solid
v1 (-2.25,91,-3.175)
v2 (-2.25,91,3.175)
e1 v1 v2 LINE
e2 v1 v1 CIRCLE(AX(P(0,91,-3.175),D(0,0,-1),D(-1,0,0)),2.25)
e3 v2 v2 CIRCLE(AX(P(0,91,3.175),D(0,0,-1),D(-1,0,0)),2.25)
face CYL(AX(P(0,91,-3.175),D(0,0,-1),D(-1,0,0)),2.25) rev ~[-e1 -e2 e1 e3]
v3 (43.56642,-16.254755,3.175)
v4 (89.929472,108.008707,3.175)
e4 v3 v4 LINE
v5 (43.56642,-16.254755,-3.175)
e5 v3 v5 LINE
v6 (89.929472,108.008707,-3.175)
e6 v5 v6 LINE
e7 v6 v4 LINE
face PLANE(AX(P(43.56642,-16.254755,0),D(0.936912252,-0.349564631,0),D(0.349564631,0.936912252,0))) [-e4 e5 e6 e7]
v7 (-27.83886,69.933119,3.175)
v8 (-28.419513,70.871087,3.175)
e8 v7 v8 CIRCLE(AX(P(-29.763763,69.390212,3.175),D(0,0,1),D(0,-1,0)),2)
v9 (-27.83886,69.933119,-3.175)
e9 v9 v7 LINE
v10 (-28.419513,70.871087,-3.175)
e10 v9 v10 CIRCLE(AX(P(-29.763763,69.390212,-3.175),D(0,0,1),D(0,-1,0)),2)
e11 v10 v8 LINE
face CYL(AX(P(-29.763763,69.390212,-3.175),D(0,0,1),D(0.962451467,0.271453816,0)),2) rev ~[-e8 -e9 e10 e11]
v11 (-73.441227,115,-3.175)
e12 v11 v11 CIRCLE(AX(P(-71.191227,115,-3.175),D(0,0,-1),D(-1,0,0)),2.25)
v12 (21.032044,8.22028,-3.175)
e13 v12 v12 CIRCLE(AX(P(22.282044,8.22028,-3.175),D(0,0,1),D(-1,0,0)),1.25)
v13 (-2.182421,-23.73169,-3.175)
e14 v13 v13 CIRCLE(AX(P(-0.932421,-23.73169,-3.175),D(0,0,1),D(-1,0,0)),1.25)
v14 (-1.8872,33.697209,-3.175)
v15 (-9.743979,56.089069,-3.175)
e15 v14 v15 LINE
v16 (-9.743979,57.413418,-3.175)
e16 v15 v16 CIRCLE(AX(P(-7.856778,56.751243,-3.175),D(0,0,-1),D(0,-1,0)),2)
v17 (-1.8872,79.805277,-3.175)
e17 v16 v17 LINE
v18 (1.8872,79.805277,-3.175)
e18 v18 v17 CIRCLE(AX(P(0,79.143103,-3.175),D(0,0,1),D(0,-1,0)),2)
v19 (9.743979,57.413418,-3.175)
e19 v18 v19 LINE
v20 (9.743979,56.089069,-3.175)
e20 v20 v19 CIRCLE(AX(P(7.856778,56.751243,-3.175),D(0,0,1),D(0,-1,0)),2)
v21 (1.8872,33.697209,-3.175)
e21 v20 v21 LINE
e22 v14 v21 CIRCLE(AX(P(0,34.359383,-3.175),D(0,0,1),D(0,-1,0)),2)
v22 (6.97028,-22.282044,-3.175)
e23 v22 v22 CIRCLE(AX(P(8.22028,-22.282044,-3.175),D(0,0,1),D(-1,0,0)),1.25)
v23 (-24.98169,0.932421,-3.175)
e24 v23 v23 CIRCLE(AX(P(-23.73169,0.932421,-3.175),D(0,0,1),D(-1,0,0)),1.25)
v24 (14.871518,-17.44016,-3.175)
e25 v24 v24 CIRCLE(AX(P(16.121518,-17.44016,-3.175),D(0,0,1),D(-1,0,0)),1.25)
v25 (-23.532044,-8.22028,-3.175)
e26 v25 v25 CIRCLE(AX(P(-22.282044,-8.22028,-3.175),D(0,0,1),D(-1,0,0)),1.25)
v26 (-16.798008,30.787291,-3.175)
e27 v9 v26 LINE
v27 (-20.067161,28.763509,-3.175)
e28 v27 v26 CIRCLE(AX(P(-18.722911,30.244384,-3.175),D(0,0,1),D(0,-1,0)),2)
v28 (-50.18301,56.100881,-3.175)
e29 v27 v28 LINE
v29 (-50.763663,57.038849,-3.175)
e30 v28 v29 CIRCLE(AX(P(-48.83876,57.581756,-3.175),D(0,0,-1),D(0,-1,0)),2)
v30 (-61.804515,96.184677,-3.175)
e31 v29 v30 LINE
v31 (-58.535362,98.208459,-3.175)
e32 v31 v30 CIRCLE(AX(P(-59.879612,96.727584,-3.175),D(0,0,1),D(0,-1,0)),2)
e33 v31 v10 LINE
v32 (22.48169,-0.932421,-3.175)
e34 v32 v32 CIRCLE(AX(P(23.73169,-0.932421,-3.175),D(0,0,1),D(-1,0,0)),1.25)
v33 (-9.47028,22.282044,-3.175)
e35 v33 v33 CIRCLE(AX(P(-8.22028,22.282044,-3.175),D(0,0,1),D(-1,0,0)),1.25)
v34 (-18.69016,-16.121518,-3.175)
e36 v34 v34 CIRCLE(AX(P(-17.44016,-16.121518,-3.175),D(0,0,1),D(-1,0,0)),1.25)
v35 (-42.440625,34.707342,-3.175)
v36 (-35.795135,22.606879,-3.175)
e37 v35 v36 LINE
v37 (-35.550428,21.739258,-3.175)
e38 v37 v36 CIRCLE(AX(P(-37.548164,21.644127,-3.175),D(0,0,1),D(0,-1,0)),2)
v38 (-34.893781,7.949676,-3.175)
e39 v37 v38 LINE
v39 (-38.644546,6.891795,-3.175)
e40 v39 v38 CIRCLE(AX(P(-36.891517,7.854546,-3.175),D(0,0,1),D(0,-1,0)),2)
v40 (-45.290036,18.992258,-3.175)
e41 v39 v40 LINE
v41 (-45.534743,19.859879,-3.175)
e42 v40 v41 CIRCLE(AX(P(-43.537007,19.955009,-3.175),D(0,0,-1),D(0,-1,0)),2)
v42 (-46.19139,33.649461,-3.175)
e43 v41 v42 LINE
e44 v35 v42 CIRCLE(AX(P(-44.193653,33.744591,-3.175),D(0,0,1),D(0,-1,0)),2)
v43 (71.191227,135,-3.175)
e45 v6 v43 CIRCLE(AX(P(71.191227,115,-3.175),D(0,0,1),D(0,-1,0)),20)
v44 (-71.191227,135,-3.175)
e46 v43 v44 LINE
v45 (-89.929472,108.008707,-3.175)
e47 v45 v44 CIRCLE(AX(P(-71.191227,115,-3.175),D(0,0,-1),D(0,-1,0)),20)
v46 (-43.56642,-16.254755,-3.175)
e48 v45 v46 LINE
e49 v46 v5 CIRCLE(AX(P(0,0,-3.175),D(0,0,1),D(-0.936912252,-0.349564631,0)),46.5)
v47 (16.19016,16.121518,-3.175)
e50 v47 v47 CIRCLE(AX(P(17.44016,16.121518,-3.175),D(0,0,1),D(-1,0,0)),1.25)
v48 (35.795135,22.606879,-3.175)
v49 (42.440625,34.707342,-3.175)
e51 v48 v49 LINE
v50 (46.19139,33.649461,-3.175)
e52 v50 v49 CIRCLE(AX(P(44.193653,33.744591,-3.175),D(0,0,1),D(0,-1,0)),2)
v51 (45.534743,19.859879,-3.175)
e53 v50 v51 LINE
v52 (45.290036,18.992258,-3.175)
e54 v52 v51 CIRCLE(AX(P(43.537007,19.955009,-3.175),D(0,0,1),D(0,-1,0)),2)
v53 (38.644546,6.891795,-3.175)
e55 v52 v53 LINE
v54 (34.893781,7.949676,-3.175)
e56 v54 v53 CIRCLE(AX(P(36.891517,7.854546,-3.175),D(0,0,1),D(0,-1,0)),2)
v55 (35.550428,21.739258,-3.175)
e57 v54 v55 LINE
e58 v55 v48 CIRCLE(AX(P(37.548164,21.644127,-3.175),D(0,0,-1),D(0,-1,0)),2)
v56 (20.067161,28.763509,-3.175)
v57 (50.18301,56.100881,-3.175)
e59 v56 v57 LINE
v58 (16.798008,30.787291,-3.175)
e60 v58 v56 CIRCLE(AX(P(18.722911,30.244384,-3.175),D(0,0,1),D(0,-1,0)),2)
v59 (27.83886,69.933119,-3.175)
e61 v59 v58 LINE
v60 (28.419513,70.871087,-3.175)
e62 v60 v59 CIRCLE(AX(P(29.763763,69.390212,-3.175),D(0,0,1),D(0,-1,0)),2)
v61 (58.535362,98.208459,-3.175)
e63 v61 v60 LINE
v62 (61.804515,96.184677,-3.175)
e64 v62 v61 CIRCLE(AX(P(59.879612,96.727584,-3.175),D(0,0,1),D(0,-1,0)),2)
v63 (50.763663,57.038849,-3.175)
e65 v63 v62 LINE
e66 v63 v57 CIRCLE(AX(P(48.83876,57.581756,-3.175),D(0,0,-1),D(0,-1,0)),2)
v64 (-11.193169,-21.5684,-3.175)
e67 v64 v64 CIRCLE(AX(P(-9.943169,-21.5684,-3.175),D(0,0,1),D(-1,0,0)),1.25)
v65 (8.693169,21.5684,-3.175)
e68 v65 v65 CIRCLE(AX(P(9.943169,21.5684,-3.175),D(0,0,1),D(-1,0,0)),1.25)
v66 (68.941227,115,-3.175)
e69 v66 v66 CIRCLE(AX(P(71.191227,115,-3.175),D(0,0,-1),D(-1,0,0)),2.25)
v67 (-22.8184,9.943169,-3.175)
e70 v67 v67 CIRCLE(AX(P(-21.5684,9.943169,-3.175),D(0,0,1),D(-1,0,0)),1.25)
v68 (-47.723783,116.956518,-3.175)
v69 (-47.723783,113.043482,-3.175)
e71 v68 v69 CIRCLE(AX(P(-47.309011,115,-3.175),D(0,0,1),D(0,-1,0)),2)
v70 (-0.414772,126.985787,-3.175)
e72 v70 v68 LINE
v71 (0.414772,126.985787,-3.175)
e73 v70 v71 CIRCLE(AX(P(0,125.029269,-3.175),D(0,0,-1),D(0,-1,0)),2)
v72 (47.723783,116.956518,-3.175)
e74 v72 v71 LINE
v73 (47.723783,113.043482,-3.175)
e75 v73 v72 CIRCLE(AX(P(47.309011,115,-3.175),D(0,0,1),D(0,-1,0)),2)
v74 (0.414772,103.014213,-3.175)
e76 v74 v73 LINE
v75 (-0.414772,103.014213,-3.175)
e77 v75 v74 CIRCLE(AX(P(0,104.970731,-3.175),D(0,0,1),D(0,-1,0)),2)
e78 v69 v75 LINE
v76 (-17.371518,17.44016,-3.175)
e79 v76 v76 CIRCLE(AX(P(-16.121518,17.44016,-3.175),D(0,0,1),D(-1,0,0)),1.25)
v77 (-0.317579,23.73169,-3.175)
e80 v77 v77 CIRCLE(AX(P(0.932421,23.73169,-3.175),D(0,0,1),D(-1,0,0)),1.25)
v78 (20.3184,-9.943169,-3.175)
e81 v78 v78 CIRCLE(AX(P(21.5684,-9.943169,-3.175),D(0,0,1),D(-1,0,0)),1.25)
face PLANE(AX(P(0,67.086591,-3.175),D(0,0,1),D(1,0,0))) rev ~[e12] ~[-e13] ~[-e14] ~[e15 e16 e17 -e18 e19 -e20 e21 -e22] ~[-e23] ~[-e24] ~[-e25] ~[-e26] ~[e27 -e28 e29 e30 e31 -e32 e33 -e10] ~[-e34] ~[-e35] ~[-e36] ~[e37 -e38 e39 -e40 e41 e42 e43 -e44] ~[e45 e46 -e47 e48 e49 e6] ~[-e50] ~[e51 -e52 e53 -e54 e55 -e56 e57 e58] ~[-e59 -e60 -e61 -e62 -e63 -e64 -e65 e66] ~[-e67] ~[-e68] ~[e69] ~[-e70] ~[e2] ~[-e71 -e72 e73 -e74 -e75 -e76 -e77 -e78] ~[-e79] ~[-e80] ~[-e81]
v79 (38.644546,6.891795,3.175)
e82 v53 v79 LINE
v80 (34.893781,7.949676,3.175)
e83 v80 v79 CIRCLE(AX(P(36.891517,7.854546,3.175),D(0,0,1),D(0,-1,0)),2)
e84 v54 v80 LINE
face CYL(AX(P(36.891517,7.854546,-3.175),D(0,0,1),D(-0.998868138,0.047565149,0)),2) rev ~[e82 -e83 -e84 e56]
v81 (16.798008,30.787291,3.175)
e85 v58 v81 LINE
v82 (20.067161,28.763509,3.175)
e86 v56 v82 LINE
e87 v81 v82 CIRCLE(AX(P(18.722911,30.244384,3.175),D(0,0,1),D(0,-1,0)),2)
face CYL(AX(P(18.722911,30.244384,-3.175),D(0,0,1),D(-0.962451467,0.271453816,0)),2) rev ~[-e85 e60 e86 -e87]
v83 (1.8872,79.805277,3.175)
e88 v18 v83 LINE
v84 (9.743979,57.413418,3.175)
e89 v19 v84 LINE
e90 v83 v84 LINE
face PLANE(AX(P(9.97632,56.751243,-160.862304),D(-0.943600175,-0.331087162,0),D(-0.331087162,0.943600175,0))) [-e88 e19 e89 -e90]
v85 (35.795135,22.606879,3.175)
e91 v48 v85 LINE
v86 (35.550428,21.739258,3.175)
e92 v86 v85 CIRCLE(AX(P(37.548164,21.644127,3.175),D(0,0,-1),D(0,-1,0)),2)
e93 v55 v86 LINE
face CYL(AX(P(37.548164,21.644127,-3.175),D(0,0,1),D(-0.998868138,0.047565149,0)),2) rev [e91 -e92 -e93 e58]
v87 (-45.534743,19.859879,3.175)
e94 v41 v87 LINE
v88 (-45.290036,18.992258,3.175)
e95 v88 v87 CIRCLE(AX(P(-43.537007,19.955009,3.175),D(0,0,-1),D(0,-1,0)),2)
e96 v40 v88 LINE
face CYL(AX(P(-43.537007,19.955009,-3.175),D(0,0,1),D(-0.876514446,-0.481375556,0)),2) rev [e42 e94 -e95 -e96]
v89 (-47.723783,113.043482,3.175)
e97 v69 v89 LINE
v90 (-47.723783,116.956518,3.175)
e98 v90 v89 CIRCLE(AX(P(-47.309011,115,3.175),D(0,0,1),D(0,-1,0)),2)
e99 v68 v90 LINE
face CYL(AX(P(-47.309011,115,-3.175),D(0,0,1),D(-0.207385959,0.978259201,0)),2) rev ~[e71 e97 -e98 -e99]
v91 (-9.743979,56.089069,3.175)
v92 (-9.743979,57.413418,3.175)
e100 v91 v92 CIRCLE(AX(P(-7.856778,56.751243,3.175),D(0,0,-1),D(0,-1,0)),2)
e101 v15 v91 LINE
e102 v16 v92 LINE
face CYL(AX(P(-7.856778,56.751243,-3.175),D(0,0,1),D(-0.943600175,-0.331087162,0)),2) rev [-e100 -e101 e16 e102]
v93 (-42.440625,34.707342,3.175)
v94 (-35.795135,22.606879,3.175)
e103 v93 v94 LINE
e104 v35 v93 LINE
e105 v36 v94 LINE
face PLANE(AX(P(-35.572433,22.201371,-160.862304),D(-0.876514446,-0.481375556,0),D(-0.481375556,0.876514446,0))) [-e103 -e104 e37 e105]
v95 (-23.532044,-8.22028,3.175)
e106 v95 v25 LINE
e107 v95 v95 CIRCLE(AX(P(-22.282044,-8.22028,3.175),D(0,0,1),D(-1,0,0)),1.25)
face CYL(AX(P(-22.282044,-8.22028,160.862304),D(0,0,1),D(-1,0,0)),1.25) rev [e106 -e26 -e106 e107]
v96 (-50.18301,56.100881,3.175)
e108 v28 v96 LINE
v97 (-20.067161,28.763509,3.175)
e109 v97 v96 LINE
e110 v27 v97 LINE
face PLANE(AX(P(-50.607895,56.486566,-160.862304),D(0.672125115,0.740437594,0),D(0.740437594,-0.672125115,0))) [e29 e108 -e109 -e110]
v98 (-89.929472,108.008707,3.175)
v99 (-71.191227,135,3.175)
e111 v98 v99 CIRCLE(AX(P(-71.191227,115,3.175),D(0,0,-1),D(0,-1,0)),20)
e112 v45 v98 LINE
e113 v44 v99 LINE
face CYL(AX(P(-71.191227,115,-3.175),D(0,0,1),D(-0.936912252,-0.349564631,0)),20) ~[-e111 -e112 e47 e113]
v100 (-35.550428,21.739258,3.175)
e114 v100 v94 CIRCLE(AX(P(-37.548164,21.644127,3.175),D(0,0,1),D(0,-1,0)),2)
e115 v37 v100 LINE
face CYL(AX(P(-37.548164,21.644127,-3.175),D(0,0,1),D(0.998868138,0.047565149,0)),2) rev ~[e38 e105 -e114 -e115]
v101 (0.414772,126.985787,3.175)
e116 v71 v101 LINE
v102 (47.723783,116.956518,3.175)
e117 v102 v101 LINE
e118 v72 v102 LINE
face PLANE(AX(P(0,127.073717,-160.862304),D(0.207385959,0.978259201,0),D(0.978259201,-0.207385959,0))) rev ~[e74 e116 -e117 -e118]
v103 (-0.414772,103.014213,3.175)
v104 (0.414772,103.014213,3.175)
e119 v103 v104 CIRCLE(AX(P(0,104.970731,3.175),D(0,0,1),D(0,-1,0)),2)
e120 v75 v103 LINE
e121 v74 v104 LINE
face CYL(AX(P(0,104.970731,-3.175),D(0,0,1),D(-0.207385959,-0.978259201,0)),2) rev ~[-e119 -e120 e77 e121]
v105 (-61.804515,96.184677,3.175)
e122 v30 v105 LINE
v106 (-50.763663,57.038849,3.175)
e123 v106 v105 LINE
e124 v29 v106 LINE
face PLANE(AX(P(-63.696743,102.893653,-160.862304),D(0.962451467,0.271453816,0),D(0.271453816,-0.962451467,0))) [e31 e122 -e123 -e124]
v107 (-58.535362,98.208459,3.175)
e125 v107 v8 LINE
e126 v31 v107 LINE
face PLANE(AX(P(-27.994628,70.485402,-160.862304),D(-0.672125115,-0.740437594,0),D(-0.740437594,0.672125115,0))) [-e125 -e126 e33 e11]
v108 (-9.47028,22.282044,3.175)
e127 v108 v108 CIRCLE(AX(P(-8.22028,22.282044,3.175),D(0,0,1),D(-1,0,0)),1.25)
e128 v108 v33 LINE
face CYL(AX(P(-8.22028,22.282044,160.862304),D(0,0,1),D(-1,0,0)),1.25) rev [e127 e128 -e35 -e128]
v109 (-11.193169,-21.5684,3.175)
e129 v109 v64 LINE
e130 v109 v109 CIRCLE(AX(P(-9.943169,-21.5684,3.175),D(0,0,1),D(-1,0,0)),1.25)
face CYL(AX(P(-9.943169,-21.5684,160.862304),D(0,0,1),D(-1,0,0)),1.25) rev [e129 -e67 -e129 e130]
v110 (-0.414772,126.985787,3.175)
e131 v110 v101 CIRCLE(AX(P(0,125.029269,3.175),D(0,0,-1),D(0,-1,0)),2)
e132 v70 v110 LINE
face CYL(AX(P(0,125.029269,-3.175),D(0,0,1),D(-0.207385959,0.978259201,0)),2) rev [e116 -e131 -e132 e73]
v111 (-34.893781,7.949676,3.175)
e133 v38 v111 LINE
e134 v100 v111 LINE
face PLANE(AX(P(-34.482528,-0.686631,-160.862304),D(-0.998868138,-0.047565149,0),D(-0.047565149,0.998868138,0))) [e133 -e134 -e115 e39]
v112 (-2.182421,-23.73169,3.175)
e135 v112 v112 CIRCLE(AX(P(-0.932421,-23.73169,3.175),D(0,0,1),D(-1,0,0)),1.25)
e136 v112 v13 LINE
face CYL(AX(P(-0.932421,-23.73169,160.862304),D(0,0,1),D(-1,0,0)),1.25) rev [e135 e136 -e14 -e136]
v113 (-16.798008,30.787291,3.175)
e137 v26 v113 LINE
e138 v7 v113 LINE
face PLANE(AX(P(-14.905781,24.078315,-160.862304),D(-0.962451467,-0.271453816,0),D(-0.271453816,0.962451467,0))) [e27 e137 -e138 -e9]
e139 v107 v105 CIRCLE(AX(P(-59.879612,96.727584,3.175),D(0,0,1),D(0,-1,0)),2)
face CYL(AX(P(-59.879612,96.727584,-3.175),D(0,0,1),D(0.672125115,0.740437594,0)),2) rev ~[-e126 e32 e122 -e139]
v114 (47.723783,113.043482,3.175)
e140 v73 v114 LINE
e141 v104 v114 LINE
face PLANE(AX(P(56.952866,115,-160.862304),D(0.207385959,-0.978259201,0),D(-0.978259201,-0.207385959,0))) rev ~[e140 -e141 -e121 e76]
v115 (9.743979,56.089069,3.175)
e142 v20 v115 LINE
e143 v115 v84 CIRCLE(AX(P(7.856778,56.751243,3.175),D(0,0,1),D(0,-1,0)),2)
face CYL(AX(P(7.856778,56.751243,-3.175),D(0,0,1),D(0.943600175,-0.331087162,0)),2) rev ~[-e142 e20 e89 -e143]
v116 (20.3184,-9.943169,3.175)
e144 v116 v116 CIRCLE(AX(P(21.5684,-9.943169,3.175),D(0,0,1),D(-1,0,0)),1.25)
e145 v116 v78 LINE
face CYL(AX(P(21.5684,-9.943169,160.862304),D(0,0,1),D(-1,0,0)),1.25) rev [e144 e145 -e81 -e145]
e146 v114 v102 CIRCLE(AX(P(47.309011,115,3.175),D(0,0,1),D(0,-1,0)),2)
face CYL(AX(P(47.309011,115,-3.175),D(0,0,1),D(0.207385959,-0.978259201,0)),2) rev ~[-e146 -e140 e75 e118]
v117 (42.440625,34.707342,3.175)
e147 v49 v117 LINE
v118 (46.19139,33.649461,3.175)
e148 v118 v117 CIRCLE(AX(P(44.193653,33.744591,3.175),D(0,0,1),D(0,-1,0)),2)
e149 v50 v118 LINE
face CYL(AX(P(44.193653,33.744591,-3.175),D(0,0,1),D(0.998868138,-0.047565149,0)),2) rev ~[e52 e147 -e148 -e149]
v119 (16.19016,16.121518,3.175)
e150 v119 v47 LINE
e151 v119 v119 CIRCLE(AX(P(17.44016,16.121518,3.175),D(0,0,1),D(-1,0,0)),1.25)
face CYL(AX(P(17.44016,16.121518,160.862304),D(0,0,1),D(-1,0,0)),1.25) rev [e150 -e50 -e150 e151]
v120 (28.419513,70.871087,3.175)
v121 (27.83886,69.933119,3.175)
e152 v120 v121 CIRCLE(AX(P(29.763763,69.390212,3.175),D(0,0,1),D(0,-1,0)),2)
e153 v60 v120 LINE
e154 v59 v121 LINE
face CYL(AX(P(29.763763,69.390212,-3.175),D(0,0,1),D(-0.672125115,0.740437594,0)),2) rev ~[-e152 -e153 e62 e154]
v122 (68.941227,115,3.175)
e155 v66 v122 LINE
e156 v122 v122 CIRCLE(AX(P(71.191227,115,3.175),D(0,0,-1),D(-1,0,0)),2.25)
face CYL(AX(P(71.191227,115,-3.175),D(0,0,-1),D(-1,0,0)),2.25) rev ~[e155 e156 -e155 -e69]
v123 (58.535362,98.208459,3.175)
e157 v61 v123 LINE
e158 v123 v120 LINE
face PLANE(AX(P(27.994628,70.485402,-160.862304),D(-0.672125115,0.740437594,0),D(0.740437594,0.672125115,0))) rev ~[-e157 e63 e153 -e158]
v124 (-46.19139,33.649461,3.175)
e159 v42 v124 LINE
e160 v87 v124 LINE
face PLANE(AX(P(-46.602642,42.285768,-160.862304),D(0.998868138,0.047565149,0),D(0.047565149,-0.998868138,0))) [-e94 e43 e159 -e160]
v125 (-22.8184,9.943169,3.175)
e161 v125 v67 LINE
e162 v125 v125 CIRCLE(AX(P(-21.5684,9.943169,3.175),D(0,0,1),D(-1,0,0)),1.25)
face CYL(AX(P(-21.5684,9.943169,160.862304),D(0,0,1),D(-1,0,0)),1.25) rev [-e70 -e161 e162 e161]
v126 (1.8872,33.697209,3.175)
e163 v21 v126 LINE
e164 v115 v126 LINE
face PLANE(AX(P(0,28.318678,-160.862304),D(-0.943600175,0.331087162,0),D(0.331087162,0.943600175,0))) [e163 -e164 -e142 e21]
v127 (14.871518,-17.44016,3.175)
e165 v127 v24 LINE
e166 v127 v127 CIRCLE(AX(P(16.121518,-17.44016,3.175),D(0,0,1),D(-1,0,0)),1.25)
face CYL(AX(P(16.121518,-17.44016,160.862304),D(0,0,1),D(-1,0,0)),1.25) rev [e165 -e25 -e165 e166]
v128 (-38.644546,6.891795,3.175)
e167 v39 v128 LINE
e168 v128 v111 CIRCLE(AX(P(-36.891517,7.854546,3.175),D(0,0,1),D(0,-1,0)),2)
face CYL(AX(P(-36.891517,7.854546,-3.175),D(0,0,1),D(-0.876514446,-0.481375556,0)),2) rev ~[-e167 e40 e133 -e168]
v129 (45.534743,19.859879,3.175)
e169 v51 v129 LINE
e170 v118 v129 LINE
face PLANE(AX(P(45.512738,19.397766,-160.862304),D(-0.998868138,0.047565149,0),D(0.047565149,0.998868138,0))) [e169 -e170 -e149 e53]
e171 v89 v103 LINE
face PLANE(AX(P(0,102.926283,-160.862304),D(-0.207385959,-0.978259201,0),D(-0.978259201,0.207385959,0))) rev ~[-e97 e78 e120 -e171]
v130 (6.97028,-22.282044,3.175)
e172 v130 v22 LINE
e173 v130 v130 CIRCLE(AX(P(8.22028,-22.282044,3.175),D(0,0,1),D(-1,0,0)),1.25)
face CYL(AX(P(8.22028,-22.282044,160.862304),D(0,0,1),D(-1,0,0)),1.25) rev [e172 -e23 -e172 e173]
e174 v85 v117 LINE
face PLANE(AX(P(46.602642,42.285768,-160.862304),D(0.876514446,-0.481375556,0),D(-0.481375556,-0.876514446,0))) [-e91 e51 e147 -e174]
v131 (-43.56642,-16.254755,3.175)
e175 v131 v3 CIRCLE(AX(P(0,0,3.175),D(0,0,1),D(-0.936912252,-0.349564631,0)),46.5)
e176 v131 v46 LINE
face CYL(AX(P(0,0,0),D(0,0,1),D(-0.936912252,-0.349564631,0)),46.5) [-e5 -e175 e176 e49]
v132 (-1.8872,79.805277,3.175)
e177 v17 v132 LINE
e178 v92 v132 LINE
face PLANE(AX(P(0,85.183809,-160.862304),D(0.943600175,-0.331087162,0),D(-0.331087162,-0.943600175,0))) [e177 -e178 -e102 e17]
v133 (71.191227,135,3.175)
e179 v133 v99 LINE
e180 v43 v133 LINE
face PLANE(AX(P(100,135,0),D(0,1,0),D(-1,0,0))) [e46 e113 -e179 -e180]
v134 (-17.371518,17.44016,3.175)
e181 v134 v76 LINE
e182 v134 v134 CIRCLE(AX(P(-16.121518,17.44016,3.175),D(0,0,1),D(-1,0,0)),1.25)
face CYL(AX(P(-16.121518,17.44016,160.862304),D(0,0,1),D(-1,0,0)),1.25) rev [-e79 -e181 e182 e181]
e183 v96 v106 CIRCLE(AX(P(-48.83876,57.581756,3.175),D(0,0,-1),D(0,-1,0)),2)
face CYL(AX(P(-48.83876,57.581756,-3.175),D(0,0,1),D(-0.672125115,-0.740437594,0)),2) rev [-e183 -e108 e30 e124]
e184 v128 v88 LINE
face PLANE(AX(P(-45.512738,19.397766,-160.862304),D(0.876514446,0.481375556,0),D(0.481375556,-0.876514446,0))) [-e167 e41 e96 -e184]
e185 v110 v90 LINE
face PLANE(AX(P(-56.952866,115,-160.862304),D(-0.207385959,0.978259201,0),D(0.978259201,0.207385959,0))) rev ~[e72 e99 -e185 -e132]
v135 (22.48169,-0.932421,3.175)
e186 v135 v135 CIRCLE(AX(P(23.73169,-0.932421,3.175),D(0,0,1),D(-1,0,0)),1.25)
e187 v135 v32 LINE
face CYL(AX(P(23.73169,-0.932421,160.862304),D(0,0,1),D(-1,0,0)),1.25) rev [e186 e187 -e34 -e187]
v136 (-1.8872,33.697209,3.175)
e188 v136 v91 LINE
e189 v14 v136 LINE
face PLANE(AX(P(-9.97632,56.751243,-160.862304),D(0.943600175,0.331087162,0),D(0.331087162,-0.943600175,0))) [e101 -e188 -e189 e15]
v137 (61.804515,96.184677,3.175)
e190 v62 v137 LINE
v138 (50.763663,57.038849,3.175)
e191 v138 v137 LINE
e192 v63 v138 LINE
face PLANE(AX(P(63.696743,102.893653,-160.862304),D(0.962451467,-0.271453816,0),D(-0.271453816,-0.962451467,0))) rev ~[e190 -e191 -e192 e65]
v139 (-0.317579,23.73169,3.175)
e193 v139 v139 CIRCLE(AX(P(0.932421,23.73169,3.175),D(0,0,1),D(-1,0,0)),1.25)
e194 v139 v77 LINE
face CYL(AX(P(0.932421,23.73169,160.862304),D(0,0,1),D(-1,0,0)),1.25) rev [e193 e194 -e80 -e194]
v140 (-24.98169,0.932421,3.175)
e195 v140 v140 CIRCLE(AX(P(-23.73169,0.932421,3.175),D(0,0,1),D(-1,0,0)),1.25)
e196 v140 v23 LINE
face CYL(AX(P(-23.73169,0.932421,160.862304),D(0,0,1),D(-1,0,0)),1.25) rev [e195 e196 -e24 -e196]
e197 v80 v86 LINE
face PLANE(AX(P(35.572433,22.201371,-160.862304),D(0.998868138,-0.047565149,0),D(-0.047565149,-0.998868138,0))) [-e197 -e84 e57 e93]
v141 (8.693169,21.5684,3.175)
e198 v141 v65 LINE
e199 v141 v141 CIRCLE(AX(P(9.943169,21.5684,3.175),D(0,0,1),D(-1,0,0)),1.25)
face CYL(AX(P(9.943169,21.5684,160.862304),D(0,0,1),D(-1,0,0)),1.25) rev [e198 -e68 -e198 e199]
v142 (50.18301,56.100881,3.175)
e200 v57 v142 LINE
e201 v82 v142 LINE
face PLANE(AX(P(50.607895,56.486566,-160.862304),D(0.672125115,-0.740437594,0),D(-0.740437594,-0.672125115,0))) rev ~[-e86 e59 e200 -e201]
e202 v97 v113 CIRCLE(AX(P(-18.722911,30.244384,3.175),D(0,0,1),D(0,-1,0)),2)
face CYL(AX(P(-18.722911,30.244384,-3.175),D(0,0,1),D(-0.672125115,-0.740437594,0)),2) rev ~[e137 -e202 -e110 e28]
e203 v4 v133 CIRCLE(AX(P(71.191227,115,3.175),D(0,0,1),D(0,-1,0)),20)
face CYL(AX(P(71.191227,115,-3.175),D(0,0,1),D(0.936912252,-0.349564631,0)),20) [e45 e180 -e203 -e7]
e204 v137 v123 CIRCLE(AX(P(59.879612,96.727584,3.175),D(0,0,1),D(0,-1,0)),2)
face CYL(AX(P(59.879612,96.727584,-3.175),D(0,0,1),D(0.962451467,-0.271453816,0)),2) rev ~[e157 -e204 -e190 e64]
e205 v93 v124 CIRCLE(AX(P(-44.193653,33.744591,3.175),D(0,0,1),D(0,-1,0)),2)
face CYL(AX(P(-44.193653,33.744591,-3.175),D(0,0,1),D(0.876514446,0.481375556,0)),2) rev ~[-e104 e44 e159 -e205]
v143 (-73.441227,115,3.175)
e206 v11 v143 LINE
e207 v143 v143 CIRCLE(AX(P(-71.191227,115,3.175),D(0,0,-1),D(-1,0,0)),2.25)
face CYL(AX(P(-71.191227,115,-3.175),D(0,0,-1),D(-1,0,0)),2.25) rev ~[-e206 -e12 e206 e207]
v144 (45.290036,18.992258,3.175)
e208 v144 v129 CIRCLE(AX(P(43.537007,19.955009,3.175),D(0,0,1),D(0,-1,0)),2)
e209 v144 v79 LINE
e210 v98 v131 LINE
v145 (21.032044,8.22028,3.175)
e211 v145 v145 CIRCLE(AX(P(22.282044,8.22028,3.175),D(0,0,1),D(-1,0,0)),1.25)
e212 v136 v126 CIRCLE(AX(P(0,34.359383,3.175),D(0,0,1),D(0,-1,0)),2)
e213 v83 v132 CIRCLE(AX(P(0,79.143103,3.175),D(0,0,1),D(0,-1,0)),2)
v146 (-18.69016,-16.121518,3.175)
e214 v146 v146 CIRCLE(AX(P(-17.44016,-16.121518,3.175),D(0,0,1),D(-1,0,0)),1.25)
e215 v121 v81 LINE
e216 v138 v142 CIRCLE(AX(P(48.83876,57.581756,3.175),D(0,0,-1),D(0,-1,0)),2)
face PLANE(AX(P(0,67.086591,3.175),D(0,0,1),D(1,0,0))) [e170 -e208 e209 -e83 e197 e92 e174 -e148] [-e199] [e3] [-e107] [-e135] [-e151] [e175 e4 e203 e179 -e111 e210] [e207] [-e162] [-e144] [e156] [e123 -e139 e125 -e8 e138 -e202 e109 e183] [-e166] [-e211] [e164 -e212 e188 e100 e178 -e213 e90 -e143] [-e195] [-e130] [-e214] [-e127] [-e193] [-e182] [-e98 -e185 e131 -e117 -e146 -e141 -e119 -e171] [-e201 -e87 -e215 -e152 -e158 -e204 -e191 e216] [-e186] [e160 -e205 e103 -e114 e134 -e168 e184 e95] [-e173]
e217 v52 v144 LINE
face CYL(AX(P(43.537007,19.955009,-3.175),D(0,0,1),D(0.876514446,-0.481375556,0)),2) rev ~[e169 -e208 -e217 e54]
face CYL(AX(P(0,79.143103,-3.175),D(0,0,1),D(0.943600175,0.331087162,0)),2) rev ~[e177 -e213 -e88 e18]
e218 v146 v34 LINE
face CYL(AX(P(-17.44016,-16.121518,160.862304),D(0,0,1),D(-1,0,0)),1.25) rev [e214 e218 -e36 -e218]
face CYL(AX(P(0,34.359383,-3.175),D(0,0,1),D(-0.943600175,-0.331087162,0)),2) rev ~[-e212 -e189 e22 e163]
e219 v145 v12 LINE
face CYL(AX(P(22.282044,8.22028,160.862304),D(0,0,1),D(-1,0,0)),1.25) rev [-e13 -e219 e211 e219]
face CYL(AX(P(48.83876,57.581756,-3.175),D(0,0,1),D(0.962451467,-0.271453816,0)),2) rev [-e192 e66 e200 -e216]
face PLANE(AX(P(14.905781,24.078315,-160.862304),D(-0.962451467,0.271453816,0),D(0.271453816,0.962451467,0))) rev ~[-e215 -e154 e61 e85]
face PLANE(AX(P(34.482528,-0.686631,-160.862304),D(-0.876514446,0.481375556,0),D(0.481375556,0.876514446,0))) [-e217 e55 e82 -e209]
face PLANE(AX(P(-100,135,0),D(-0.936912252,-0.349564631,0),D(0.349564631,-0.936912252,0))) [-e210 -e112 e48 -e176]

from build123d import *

# Parameters (mm, degrees)
BOSS_EXTRUDE1_DEPTH     = 3.175
FILLET1_R               = 20
SKETCH2_R               = 2.25
CUT_EXTRUDE1_DEPTH      = 164.037303514
CUT_EXTRUDE2_DEPTH      = 164.037303514
CUT_EXTRUDE2_DEPTH_BACK = 164.037303514
SKETCH3_R               = 1.25
CUT_EXTRUDE3_DEPTH      = 164.037303514
CUT_EXTRUDE3_DEPTH_BACK = 164.037303514
FILLET2_R               = 2


with BuildPart() as part:
    # Sketch1 → Boss-Extrude1 (new, symmetric)
    with BuildSketch(Plane.XY):
        with BuildLine():
            Line((43.566419732, -16.254755357), (100, 135))
            Line((100, 135), (-100, 135))
            Line((-100, 135), (-43.566419732, -16.254755357))
            ThreePointArc((-43.566419732, -16.254755357), (0, -46.5), (43.566419732, -16.254755357))
        make_face()
    extrude(amount=BOSS_EXTRUDE1_DEPTH, both=True)

    # Fillet1
    fillet1_edges = [part.edges().sort_by_distance(p)[0] for p in [
        (-100, 135, 0),
        (100, 135, 0),
    ]]
    fillet(fillet1_edges, radius=FILLET1_R)

    # Sketch2 → Cut-Extrude1 (cut, through all)
    with BuildSketch(Plane(origin=(0, 0, -3.175), x_dir=(-1, 0, 0), z_dir=(0, 0, -1))):
        with Locations((-71.191226755, 115)):
            Circle(SKETCH2_R)
        with Locations((71.191226755, 115)):
            Circle(SKETCH2_R)
        with Locations((0, 90.999999998)):
            Circle(SKETCH2_R)
    extrude(amount=-CUT_EXTRUDE1_DEPTH, mode=Mode.SUBTRACT)

    # Sketch3 → Cut-Extrude2 (cut, two sides: drawn at the far end of the back side and taken through both)
    with BuildSketch(Plane(origin=(0, 0, -3.175), x_dir=(-1, 0, 0), z_dir=(0, 0, -1)).offset(-CUT_EXTRUDE2_DEPTH_BACK)):
        with Locations((17.440159599, -16.121517706)):
            Circle(SKETCH3_R)
        with Locations((22.282044228, -8.220280106)):
            Circle(SKETCH3_R)
        with Locations((9.943168767, -21.568400378)):
            Circle(SKETCH3_R)
        with Locations((0.932420624, -23.731689611)):
            Circle(SKETCH3_R)
        with Locations((-8.220280106, -22.282044228)):
            Circle(SKETCH3_R)
        with Locations((-16.121517706, -17.440159599)):
            Circle(SKETCH3_R)
        with Locations((-21.568400378, -9.943168767)):
            Circle(SKETCH3_R)
        with Locations((-23.731689611, -0.932420624)):
            Circle(SKETCH3_R)
        with Locations((-22.282044228, 8.220280106)):
            Circle(SKETCH3_R)
        with Locations((-17.440159599, 16.121517706)):
            Circle(SKETCH3_R)
        with Locations((-9.943168767, 21.568400378)):
            Circle(SKETCH3_R)
        with Locations((-0.932420624, 23.731689611)):
            Circle(SKETCH3_R)
        with Locations((8.220280106, 22.282044228)):
            Circle(SKETCH3_R)
        with Locations((16.121517706, 17.440159599)):
            Circle(SKETCH3_R)
        with Locations((21.568400378, 9.943168767)):
            Circle(SKETCH3_R)
        with Locations((23.731689611, 0.932420624)):
            Circle(SKETCH3_R)
    extrude(amount=CUT_EXTRUDE2_DEPTH + CUT_EXTRUDE2_DEPTH_BACK, mode=Mode.SUBTRACT)

    # Sketch4 → Cut-Extrude3 (cut, two sides: drawn at the far end of the back side and taken through both)
    with BuildSketch(Plane.XY.offset(3.175).offset(-CUT_EXTRUDE3_DEPTH_BACK)):
        Polygon((-63.696742607, 102.893653244), (-50.607894628, 56.486565879), (-14.905780513, 24.078314663), (-27.994628493, 70.485402028), align=None)
        Polygon((63.696742607, 102.893653244), (50.607894628, 56.486565879), (14.905780513, 24.078314663), (27.994628493, 70.485402028), align=None)
        Polygon((0, 85.183808507), (-9.976320033, 56.751243307), (0, 28.318678107), (9.976320033, 56.751243307), align=None)
        Polygon((-56.952865739, 115), (0, 127.073716961), (56.952865739, 115), (0, 102.926283039), align=None)
        Polygon((-46.602642472, 42.285767842), (-45.512737624, 19.397766035), (-34.482528345, -0.686630956), (-35.572433193, 22.20137085), align=None)
        Polygon((46.602642472, 42.285767842), (35.572433193, 22.20137085), (34.482528345, -0.686630956), (45.512737624, 19.397766035), align=None)
    extrude(amount=CUT_EXTRUDE3_DEPTH + CUT_EXTRUDE3_DEPTH_BACK, mode=Mode.SUBTRACT)

    # Fillet2
    fillet2_edges = [part.edges().sort_by_distance(p)[0] for p in [
        (-46.602642472, 42.285767842, 0),
        (-35.572433193, 22.20137085, 0),
        (-34.482528345, -0.686630956, 0),
        (-45.512737624, 19.397766035, 0),
        (0, 85.183808507, 0),
        (9.976320033, 56.751243307, 0),
        (0, 28.318678107, 0),
        (-9.976320033, 56.751243307, 0),
        (0, 102.926283039, 0),
        (-56.952865739, 115, 0),
        (0, 127.073716961, 0),
        (56.952865739, 115, 0),
        (27.994628493, 70.485402028, 0),
        (63.696742607, 102.893653244, 0),
        (50.607894628, 56.486565879, 0),
        (14.905780513, 24.078314663, 0),
        (46.602642472, 42.285767842, 0),
        (45.512737624, 19.397766035, 0),
        (34.482528345, -0.686630956, 0),
        (35.572433193, 22.20137085, 0),
        (-63.696742607, 102.893653244, 0),
        (-27.994628493, 70.485402028, 0),
        (-14.905780513, 24.078314663, 0),
        (-50.607894628, 56.486565879, 0),
    ]]
    fillet(fillet2_edges, radius=FILLET2_R)


solid = part.part
